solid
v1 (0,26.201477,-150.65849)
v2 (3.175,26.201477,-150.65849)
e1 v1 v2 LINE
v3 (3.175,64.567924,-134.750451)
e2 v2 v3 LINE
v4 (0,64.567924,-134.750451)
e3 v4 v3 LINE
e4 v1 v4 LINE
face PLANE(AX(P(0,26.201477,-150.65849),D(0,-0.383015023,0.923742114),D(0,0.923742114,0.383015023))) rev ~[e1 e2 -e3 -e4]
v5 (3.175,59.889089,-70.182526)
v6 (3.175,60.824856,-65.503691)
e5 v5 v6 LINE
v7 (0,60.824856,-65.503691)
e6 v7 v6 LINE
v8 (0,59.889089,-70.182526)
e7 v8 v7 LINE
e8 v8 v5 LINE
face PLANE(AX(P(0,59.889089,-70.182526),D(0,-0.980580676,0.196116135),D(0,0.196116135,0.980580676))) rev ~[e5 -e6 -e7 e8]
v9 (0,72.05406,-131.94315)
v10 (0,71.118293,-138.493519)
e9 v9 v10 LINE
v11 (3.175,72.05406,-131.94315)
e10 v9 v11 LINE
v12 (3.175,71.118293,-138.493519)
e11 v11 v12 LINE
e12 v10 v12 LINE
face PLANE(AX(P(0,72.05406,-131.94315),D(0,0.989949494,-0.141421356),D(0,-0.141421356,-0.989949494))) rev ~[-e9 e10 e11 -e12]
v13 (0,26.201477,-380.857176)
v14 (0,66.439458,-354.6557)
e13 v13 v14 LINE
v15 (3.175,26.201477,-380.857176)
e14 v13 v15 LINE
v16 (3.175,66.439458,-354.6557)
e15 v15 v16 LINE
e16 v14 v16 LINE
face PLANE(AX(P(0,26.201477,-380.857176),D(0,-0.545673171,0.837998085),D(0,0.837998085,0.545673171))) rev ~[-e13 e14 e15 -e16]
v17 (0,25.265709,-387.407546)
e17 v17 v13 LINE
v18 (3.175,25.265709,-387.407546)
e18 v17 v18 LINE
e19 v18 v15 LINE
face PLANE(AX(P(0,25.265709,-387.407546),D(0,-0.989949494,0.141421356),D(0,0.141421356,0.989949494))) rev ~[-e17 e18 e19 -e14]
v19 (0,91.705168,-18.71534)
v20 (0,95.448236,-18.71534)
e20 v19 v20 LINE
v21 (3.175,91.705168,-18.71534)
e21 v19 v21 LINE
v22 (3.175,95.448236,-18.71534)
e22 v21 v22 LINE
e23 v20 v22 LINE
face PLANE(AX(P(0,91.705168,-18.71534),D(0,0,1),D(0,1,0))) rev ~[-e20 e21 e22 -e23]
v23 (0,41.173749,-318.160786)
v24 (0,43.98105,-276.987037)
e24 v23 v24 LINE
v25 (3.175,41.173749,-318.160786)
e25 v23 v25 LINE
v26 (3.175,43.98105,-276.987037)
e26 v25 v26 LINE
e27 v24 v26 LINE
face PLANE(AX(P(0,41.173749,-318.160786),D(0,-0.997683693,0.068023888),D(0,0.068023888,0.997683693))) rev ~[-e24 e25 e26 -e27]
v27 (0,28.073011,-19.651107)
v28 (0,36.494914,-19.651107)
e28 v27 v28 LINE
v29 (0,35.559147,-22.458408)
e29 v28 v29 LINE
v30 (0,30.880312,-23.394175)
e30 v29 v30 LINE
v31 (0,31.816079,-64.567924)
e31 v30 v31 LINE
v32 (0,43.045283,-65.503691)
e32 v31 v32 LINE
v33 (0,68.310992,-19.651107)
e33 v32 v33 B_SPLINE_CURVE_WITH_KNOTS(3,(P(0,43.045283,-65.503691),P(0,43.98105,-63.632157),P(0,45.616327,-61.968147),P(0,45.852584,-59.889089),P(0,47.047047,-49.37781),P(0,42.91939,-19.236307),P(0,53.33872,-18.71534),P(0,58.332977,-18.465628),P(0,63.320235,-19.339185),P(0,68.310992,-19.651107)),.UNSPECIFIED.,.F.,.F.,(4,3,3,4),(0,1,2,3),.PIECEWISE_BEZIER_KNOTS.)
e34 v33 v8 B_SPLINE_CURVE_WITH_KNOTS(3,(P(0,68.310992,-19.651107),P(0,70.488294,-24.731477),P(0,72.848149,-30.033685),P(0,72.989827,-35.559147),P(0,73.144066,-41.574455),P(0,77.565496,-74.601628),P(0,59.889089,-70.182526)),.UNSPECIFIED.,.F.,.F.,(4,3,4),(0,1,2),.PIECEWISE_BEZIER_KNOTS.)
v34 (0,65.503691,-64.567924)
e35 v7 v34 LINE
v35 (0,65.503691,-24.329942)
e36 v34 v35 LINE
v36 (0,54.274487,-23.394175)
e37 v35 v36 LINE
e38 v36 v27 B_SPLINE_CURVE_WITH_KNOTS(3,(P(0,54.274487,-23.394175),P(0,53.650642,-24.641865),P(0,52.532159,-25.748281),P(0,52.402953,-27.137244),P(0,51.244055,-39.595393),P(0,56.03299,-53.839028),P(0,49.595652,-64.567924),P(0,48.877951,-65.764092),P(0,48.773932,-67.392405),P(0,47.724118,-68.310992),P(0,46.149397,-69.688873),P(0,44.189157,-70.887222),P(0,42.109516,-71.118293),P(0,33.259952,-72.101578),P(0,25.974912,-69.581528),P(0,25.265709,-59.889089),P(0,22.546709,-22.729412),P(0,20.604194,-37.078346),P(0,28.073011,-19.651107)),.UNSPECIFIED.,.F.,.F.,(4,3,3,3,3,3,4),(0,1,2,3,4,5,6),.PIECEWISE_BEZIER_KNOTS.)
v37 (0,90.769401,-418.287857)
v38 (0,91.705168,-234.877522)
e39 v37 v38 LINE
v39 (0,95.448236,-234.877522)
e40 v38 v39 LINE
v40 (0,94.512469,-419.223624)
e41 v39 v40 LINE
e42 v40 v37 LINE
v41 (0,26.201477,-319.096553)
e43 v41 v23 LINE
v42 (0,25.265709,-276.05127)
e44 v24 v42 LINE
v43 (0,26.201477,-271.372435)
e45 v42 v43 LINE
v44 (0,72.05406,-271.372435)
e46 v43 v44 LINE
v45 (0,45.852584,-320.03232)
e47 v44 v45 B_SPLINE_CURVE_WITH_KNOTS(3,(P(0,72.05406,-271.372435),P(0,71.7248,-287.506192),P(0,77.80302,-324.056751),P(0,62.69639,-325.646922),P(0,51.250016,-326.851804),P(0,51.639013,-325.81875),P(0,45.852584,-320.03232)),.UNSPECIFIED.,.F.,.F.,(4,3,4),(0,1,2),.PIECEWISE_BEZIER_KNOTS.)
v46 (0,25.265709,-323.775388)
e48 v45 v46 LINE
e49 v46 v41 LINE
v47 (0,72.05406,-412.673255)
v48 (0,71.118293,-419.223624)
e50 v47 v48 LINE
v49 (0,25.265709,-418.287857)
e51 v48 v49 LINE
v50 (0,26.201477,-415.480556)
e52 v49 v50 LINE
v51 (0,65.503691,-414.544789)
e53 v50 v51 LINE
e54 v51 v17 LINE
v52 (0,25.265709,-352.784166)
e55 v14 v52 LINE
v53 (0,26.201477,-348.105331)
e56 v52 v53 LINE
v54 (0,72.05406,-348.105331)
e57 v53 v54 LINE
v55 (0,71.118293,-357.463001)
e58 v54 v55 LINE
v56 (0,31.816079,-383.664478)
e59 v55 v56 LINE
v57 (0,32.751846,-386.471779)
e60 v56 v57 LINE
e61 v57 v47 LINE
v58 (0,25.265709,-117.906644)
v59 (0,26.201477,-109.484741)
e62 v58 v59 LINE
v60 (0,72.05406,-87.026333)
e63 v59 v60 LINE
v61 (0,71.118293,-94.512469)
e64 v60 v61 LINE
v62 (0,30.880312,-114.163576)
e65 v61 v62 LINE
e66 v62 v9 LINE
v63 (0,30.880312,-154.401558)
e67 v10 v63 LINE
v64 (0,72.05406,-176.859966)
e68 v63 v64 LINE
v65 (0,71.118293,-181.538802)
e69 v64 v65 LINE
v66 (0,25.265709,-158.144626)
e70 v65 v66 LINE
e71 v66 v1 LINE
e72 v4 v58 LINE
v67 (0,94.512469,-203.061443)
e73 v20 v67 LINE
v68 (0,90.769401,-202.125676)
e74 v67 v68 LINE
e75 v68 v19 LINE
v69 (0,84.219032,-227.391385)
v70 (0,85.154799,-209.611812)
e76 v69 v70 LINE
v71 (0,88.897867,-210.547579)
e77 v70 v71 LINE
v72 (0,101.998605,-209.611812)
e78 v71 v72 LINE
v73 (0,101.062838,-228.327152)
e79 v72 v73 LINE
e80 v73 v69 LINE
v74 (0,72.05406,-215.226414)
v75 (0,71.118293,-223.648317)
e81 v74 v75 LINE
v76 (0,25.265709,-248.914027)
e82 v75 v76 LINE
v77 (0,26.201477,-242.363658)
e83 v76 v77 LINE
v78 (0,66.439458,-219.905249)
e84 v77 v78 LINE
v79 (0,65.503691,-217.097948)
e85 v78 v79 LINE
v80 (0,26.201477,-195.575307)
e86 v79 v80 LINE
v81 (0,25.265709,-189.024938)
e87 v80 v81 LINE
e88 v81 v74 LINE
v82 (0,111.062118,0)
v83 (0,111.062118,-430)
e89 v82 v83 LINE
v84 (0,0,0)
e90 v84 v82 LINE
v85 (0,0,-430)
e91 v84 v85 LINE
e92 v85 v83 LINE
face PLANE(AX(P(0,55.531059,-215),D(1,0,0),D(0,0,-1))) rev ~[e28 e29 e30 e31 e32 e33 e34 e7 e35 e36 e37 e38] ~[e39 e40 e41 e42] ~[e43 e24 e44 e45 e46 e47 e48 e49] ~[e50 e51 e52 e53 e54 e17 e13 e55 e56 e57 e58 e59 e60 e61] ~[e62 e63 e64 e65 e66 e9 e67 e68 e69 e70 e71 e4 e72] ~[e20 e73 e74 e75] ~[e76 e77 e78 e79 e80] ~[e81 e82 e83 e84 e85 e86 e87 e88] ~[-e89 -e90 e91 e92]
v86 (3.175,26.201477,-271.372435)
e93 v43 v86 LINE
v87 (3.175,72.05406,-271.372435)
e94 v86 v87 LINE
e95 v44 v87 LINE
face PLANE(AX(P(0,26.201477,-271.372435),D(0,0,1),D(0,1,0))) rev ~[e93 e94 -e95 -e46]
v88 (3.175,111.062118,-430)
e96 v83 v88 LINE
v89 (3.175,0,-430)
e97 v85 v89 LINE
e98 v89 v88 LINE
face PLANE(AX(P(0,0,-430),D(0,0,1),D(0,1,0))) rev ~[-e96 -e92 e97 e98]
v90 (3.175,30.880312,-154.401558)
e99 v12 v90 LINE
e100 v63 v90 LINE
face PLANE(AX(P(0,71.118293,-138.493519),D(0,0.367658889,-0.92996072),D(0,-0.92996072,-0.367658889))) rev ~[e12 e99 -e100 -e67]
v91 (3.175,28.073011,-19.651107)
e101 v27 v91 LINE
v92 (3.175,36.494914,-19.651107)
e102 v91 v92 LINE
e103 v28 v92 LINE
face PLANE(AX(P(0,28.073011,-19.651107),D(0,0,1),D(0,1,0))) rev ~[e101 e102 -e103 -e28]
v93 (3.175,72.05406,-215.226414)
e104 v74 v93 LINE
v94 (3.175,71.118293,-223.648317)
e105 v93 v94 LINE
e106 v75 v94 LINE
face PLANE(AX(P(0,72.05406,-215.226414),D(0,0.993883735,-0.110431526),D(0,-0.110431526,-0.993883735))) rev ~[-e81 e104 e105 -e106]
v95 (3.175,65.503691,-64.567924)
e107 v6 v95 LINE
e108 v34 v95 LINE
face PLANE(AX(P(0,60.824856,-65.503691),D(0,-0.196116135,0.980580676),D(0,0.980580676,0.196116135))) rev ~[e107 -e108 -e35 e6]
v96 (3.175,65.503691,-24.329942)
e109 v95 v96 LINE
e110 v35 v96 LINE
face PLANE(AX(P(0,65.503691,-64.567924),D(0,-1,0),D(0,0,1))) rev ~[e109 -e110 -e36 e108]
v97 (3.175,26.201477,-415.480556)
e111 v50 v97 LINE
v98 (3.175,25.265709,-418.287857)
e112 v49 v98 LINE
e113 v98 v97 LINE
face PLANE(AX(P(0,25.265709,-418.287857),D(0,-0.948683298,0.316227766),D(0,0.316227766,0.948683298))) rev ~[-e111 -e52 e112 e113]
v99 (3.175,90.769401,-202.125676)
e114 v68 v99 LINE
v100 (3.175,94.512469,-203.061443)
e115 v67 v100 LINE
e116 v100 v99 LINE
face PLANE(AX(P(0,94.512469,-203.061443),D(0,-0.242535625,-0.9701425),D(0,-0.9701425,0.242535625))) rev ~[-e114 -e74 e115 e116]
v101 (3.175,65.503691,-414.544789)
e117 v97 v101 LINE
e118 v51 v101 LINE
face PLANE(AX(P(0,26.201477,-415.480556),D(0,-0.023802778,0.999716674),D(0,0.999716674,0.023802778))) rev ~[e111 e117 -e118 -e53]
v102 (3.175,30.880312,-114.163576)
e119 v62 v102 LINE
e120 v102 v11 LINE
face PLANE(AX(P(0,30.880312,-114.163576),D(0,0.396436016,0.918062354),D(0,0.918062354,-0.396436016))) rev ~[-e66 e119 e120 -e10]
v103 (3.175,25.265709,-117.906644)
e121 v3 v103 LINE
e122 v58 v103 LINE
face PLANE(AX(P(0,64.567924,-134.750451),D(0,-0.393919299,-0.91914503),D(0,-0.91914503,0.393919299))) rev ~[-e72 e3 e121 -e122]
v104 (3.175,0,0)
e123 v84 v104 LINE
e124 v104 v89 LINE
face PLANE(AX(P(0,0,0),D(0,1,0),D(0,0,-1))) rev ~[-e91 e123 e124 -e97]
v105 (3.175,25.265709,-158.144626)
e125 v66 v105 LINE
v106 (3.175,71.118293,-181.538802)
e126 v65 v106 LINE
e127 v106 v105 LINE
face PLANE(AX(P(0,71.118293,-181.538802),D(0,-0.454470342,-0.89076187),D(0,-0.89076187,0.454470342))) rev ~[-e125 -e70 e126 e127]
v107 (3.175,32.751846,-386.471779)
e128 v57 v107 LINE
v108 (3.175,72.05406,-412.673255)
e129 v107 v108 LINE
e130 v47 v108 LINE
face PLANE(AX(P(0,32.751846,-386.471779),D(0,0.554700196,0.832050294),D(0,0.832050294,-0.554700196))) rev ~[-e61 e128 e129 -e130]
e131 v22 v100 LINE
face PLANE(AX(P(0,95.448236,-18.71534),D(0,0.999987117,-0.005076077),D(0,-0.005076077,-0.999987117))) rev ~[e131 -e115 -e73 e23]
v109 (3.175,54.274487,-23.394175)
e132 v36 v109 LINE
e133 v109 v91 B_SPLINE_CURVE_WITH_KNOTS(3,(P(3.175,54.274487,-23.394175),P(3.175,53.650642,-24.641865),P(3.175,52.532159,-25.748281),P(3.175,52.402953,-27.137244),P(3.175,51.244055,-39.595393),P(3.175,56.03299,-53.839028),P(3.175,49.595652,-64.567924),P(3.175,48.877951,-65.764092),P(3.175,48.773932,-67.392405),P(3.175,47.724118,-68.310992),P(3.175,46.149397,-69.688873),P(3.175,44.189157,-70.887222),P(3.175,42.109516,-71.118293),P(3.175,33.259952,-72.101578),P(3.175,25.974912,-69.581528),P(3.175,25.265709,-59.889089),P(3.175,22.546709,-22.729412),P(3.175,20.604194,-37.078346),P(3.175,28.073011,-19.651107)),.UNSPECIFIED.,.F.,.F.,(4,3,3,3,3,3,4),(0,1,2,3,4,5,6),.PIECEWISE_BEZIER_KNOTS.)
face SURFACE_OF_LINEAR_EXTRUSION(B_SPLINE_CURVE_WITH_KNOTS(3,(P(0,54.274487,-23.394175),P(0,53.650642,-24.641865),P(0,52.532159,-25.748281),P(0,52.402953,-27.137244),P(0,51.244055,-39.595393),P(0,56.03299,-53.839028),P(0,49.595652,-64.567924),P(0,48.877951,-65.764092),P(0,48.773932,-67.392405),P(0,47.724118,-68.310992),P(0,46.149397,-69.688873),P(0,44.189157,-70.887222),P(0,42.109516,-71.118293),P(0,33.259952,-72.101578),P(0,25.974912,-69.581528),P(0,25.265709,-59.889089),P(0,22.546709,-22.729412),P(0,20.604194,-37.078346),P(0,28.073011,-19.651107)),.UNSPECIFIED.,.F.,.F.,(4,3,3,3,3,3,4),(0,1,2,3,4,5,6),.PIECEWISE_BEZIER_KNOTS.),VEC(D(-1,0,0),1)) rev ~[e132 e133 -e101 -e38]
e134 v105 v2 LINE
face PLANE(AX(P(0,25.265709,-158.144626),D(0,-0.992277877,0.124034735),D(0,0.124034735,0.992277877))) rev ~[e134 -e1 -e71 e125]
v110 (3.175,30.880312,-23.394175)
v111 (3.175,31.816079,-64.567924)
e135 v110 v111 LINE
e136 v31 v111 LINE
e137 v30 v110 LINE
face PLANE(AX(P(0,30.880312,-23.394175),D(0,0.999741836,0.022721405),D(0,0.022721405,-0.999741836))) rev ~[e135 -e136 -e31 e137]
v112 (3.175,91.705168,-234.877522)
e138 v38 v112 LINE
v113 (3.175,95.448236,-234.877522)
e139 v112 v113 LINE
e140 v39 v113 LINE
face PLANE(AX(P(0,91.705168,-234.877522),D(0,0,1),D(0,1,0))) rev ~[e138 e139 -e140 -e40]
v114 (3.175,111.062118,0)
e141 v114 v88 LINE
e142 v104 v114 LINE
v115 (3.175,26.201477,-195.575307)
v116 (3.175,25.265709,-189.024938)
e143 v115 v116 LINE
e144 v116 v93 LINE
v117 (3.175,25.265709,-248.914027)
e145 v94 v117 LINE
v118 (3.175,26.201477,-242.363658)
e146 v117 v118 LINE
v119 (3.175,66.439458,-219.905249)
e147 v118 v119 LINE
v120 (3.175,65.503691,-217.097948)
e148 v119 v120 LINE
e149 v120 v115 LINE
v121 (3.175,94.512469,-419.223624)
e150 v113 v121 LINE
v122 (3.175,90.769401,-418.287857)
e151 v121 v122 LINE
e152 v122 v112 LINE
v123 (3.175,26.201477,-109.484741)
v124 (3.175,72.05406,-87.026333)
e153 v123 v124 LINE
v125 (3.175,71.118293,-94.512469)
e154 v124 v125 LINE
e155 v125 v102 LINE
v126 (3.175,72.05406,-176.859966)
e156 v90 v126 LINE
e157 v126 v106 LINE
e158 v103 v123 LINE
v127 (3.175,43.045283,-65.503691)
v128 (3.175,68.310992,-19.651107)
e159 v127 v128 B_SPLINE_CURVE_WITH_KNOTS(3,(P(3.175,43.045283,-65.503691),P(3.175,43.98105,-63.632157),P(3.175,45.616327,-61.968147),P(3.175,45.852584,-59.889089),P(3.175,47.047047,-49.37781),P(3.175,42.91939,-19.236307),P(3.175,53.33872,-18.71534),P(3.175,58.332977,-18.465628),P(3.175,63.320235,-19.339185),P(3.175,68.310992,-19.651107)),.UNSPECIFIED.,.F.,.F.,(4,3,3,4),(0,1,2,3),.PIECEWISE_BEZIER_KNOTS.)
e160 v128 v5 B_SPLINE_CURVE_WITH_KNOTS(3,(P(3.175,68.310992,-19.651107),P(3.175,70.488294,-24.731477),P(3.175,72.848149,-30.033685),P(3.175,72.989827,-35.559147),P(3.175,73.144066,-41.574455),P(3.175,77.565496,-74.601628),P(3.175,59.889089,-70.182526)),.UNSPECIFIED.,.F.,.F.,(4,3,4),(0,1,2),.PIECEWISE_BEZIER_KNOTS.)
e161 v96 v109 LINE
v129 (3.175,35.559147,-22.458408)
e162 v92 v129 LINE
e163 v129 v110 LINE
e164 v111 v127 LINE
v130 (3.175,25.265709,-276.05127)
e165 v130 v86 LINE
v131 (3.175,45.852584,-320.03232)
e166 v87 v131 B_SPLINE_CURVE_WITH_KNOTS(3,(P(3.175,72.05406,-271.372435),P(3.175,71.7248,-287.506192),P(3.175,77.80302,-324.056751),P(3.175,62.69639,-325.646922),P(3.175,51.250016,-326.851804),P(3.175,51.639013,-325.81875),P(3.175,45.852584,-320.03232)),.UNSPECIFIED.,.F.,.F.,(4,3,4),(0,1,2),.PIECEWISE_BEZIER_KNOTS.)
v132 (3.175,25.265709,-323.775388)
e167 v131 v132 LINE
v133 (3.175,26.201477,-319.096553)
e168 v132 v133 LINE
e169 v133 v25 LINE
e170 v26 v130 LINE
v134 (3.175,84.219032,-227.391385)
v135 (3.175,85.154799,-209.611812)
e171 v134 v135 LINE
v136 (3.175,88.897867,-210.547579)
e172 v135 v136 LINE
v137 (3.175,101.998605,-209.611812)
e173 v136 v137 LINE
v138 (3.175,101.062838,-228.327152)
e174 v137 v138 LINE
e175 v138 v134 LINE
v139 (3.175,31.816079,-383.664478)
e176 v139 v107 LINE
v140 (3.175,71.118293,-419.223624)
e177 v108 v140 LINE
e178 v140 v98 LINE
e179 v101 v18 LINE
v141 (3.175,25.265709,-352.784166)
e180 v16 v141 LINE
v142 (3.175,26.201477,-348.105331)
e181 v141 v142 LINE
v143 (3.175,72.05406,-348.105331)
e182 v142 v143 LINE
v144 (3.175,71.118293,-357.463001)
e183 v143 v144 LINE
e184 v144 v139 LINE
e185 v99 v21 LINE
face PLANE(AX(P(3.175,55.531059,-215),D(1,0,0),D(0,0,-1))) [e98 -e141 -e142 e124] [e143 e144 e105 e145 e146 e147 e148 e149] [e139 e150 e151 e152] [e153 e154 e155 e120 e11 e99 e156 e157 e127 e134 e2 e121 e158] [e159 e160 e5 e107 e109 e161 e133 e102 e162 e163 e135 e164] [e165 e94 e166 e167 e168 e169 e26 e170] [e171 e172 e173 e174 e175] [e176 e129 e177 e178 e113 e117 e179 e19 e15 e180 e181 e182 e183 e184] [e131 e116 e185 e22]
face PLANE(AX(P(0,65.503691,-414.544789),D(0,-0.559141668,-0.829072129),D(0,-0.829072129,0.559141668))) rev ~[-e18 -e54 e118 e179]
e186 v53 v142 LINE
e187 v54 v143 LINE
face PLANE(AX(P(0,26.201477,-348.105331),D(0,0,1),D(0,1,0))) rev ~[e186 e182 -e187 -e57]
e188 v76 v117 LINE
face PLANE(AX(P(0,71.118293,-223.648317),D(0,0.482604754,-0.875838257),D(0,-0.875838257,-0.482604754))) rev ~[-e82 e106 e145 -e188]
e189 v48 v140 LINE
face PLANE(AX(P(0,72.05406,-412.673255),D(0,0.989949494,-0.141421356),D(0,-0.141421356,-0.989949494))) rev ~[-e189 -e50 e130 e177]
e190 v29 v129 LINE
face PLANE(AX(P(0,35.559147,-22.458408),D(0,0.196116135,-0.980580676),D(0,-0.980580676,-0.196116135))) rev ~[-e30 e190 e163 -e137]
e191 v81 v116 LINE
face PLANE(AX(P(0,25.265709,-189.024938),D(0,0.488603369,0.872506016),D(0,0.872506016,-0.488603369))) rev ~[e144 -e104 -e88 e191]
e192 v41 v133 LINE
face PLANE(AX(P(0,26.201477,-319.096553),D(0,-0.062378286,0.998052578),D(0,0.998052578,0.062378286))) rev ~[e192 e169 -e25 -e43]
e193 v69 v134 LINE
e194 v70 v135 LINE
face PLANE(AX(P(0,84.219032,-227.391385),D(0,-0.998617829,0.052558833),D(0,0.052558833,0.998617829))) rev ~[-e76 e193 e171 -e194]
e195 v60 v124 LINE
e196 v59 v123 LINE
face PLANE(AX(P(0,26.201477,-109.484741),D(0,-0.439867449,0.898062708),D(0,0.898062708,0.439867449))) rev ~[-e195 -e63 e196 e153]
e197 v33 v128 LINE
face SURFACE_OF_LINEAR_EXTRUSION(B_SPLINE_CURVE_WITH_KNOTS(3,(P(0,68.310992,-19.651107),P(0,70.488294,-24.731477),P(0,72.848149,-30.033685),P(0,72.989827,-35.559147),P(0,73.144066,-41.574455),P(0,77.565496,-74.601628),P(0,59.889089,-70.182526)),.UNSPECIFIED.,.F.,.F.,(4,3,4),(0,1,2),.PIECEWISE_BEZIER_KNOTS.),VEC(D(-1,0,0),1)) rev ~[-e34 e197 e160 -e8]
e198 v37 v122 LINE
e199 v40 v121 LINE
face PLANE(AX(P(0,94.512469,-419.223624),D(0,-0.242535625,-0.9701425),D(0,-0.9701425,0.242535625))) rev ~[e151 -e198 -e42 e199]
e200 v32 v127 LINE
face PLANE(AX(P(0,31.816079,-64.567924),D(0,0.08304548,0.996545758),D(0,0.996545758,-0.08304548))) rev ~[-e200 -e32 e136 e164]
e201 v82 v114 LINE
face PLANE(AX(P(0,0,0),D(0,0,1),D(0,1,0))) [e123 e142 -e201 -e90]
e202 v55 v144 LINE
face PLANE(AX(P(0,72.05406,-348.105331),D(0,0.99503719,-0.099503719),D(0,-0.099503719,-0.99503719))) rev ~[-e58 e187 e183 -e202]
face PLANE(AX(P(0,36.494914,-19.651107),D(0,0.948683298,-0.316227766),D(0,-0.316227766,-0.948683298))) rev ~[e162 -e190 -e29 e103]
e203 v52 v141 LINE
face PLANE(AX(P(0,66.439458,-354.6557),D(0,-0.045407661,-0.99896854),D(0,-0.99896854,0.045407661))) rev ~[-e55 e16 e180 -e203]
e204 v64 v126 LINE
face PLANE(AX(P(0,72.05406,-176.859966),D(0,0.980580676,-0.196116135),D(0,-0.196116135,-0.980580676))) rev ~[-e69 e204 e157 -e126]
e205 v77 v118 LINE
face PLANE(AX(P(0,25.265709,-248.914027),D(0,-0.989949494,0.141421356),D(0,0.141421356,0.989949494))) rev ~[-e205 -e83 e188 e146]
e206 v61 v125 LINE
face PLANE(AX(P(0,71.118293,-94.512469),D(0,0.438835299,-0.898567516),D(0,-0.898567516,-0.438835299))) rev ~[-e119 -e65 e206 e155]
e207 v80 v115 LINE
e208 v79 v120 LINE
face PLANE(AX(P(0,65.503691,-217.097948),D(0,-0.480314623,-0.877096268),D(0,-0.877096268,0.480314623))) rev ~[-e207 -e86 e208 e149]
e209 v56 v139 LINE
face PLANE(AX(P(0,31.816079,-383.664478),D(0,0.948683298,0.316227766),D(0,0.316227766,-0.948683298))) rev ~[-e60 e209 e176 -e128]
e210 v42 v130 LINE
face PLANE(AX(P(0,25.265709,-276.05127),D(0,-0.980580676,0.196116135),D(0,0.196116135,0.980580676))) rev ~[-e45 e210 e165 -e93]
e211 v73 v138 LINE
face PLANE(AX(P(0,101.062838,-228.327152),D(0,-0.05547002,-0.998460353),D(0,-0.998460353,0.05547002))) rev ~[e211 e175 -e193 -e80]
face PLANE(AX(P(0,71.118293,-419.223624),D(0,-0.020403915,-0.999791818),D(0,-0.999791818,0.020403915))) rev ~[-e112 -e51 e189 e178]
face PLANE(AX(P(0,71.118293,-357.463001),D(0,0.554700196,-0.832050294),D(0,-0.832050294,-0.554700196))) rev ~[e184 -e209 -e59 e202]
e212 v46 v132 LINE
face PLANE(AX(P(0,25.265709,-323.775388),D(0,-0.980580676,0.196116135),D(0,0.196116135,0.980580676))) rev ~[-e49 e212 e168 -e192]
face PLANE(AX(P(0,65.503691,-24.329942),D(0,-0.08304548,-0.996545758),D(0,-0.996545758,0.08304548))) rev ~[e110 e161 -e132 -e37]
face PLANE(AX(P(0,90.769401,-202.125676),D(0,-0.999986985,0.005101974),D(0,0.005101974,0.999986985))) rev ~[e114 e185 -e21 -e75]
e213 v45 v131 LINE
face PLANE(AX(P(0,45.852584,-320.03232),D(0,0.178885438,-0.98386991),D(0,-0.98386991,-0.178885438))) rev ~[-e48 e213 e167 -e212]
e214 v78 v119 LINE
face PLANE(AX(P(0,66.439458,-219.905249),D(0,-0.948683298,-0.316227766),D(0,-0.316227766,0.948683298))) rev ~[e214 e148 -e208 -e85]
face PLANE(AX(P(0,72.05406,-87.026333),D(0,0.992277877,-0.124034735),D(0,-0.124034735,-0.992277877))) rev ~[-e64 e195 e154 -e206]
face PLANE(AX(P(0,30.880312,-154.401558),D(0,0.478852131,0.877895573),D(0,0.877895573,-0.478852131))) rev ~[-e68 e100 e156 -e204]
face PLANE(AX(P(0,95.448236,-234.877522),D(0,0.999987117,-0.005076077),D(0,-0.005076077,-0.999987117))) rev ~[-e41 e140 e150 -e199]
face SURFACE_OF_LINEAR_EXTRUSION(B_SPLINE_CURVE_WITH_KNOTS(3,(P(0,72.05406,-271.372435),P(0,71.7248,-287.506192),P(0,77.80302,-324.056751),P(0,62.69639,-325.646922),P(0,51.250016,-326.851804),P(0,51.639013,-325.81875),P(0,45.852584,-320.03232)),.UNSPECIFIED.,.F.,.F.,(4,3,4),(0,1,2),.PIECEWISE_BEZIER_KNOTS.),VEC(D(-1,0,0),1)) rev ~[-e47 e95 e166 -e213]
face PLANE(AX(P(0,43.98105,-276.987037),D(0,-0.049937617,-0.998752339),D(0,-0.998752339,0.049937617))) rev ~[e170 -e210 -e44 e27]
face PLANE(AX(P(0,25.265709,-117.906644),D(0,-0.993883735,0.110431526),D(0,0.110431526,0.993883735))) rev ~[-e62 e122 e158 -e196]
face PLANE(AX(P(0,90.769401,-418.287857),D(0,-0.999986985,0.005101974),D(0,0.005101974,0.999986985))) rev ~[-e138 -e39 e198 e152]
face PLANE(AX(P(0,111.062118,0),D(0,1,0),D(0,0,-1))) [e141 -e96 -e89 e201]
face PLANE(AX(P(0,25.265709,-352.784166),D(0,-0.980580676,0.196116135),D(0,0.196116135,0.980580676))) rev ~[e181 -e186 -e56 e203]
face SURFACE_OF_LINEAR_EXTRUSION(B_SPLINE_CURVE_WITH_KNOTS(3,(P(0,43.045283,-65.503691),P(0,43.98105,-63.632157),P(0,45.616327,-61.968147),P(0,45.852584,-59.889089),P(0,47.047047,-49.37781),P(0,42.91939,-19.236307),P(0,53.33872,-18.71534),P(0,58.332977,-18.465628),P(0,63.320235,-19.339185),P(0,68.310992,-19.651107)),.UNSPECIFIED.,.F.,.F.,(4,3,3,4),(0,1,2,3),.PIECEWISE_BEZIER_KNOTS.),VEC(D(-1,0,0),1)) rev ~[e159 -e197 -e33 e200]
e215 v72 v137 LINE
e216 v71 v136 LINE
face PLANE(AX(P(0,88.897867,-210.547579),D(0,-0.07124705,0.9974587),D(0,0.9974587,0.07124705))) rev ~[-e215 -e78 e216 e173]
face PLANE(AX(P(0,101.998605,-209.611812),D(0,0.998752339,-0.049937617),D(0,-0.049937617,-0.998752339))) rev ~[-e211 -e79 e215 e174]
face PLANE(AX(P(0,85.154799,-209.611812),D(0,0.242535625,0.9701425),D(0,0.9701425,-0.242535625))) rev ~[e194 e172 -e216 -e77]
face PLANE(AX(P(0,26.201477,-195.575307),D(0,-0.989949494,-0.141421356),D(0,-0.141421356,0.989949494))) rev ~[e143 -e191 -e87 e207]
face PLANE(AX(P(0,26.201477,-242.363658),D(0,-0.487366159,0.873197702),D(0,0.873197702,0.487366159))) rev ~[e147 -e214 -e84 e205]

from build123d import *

# Parameters (mm, degrees)
SKETCH1_W           = 430
SKETCH1_H           = 111.062117558
BOSS_EXTRUDE1_DEPTH = 3.175


with BuildPart() as part:
    # Sketch1 → Boss-Extrude1 (new body)
    with BuildSketch(Plane(origin=(0, 0, 0), x_dir=(0, 0, -1), z_dir=(1, 0, 0))):
        with Locations((215, 55.531058779)):
            Rectangle(SKETCH1_W, SKETCH1_H)
        Polygon((209.611812117, 101.998605003), (228.327152485, 101.062837985), (227.391385466, 84.219031654), (209.611812117, 85.154798673), (210.547579135, 88.897866746), align=None, mode=Mode.SUBTRACT)
        Polygon((18.715340368, 95.448235875), (203.061442988, 94.512468856), (202.12567597, 90.769400783), (18.715340368, 91.705167801), align=None, mode=Mode.SUBTRACT)
        Polygon((234.877521613, 95.448235875), (419.223624234, 94.512468856), (418.287857216, 90.769400783), (234.877521613, 91.705167801), align=None, mode=Mode.SUBTRACT)
        with BuildLine():
            Line((70.182526378, 59.889089176), (65.503691287, 60.824856195))
            Line((65.503691287, 60.824856195), (64.567924268, 65.503691287))
            Line((64.567924268, 65.503691287), (24.329942478, 65.503691287))
            Line((24.329942478, 65.503691287), (23.394175459, 54.274487066))
            add(Edge.make_bspline(
                [(23.394175459, 54.274487066), (24.641864817, 53.650642387), (25.748281051, 52.532158841), (27.137243533, 52.402953029), (39.595393057, 51.244055399), (53.839027976, 56.032989749), (64.567924268, 49.595651974), (65.764091836, 48.877951433), (67.39240534, 48.773931653), (68.310992342, 47.724117937), (69.688872844, 46.149397364), (70.887222202, 44.189156581), (71.118293397, 42.109515827), (72.101578234, 33.259952297), (69.581527607, 25.974912308), (59.889089176, 25.265709496), (22.729411632, 22.5467087), (37.078345638, 20.604194158), (19.651107386, 28.073010551)],
                knots=[0, 0, 0, 0, 1, 1, 1, 2, 2, 2, 3, 3, 3, 4, 4, 4, 5, 5, 5, 6, 6, 6, 6], degree=3))
            Line((19.651107386, 28.073010551), (19.651107386, 36.494913717))
            Line((19.651107386, 36.494913717), (22.458408441, 35.559146698))
            Line((22.458408441, 35.559146698), (23.394175459, 30.880311607))
            Line((23.394175459, 30.880311607), (64.567924268, 31.816078625))
            Line((64.567924268, 31.816078625), (65.503691287, 43.045282845))
            add(Edge.make_bspline(
                [(65.503691287, 43.045282845), (63.63215725, 43.981049864), (61.968147228, 45.616327304), (59.889089176, 45.852583901), (49.377809759, 47.047047471), (19.236306893, 42.919389546), (18.715340368, 53.338720048), (18.465627539, 58.332976628), (19.339185047, 63.32023491), (19.651107386, 68.310992342)],
                knots=[0, 0, 0, 0, 1, 1, 1, 2, 2, 2, 3, 3, 3, 3], degree=3))
            add(Edge.make_bspline(
                [(19.651107386, 68.310992342), (24.731477432, 70.48829379), (30.033684854, 72.848148925), (35.559146698, 72.989827434), (41.574454702, 73.1440661), (74.601628044, 77.565495837), (70.182526378, 59.889089176)],
                knots=[0, 0, 0, 0, 1, 1, 1, 2, 2, 2, 2], degree=3))
        make_face(mode=Mode.SUBTRACT)
        Polygon((87.026332709, 72.054060415), (94.512468856, 71.118293397), (114.163576242, 30.880311607), (131.943149592, 72.054060415), (138.49351872, 71.118293397), (154.401558033, 30.880311607), (176.859966474, 72.054060415), (181.538801566, 71.118293397), (158.144626106, 25.265709496), (150.658489959, 26.201476515), (134.750450647, 64.567924268), (117.906644316, 25.265709496), (109.48474115, 26.201476515), align=None, mode=Mode.SUBTRACT)
        Polygon((215.226414227, 72.054060415), (223.648317393, 71.118293397), (248.914026889, 25.265709496), (242.36365776, 26.201476515), (219.905249319, 66.439458305), (217.097948264, 65.503691287), (195.575306841, 26.201476515), (189.024937713, 25.265709496), align=None, mode=Mode.SUBTRACT)
        with BuildLine():
            Line((320.032320286, 45.852583901), (323.775388359, 25.265709496))
            Line((323.775388359, 25.265709496), (319.096553267, 26.201476515))
            Line((319.096553267, 26.201476515), (318.160786249, 41.173748809))
            Line((318.160786249, 41.173748809), (276.98703744, 43.981049864))
            Line((276.98703744, 43.981049864), (276.051270422, 25.265709496))
            Line((276.051270422, 25.265709496), (271.37243533, 26.201476515))
            Line((271.37243533, 26.201476515), (271.37243533, 72.054060415))
            add(Edge.make_bspline(
                [(271.37243533, 72.054060415), (287.506192288, 71.724800069), (324.056750843, 77.803019989), (325.646922396, 62.696390231), (326.851803922, 51.25001574), (325.818749624, 51.639013239), (320.032320286, 45.852583901)],
                knots=[0, 0, 0, 0, 1, 1, 1, 2, 2, 2, 2], degree=3))
        make_face(mode=Mode.SUBTRACT)
        Polygon((348.105330837, 72.054060415), (357.463001021, 71.118293397), (383.664477536, 31.816078625), (386.471778591, 32.751845643), (412.673255105, 72.054060415), (419.223624234, 71.118293397), (418.287857216, 25.265709496), (415.480556161, 26.201476515), (414.544789142, 65.503691287), (387.407545609, 25.265709496), (380.857176481, 26.201476515), (354.655699966, 66.439458305), (352.784165929, 25.265709496), (348.105330837, 26.201476515), align=None, mode=Mode.SUBTRACT)
    extrude(amount=BOSS_EXTRUDE1_DEPTH)


solid = part.part
